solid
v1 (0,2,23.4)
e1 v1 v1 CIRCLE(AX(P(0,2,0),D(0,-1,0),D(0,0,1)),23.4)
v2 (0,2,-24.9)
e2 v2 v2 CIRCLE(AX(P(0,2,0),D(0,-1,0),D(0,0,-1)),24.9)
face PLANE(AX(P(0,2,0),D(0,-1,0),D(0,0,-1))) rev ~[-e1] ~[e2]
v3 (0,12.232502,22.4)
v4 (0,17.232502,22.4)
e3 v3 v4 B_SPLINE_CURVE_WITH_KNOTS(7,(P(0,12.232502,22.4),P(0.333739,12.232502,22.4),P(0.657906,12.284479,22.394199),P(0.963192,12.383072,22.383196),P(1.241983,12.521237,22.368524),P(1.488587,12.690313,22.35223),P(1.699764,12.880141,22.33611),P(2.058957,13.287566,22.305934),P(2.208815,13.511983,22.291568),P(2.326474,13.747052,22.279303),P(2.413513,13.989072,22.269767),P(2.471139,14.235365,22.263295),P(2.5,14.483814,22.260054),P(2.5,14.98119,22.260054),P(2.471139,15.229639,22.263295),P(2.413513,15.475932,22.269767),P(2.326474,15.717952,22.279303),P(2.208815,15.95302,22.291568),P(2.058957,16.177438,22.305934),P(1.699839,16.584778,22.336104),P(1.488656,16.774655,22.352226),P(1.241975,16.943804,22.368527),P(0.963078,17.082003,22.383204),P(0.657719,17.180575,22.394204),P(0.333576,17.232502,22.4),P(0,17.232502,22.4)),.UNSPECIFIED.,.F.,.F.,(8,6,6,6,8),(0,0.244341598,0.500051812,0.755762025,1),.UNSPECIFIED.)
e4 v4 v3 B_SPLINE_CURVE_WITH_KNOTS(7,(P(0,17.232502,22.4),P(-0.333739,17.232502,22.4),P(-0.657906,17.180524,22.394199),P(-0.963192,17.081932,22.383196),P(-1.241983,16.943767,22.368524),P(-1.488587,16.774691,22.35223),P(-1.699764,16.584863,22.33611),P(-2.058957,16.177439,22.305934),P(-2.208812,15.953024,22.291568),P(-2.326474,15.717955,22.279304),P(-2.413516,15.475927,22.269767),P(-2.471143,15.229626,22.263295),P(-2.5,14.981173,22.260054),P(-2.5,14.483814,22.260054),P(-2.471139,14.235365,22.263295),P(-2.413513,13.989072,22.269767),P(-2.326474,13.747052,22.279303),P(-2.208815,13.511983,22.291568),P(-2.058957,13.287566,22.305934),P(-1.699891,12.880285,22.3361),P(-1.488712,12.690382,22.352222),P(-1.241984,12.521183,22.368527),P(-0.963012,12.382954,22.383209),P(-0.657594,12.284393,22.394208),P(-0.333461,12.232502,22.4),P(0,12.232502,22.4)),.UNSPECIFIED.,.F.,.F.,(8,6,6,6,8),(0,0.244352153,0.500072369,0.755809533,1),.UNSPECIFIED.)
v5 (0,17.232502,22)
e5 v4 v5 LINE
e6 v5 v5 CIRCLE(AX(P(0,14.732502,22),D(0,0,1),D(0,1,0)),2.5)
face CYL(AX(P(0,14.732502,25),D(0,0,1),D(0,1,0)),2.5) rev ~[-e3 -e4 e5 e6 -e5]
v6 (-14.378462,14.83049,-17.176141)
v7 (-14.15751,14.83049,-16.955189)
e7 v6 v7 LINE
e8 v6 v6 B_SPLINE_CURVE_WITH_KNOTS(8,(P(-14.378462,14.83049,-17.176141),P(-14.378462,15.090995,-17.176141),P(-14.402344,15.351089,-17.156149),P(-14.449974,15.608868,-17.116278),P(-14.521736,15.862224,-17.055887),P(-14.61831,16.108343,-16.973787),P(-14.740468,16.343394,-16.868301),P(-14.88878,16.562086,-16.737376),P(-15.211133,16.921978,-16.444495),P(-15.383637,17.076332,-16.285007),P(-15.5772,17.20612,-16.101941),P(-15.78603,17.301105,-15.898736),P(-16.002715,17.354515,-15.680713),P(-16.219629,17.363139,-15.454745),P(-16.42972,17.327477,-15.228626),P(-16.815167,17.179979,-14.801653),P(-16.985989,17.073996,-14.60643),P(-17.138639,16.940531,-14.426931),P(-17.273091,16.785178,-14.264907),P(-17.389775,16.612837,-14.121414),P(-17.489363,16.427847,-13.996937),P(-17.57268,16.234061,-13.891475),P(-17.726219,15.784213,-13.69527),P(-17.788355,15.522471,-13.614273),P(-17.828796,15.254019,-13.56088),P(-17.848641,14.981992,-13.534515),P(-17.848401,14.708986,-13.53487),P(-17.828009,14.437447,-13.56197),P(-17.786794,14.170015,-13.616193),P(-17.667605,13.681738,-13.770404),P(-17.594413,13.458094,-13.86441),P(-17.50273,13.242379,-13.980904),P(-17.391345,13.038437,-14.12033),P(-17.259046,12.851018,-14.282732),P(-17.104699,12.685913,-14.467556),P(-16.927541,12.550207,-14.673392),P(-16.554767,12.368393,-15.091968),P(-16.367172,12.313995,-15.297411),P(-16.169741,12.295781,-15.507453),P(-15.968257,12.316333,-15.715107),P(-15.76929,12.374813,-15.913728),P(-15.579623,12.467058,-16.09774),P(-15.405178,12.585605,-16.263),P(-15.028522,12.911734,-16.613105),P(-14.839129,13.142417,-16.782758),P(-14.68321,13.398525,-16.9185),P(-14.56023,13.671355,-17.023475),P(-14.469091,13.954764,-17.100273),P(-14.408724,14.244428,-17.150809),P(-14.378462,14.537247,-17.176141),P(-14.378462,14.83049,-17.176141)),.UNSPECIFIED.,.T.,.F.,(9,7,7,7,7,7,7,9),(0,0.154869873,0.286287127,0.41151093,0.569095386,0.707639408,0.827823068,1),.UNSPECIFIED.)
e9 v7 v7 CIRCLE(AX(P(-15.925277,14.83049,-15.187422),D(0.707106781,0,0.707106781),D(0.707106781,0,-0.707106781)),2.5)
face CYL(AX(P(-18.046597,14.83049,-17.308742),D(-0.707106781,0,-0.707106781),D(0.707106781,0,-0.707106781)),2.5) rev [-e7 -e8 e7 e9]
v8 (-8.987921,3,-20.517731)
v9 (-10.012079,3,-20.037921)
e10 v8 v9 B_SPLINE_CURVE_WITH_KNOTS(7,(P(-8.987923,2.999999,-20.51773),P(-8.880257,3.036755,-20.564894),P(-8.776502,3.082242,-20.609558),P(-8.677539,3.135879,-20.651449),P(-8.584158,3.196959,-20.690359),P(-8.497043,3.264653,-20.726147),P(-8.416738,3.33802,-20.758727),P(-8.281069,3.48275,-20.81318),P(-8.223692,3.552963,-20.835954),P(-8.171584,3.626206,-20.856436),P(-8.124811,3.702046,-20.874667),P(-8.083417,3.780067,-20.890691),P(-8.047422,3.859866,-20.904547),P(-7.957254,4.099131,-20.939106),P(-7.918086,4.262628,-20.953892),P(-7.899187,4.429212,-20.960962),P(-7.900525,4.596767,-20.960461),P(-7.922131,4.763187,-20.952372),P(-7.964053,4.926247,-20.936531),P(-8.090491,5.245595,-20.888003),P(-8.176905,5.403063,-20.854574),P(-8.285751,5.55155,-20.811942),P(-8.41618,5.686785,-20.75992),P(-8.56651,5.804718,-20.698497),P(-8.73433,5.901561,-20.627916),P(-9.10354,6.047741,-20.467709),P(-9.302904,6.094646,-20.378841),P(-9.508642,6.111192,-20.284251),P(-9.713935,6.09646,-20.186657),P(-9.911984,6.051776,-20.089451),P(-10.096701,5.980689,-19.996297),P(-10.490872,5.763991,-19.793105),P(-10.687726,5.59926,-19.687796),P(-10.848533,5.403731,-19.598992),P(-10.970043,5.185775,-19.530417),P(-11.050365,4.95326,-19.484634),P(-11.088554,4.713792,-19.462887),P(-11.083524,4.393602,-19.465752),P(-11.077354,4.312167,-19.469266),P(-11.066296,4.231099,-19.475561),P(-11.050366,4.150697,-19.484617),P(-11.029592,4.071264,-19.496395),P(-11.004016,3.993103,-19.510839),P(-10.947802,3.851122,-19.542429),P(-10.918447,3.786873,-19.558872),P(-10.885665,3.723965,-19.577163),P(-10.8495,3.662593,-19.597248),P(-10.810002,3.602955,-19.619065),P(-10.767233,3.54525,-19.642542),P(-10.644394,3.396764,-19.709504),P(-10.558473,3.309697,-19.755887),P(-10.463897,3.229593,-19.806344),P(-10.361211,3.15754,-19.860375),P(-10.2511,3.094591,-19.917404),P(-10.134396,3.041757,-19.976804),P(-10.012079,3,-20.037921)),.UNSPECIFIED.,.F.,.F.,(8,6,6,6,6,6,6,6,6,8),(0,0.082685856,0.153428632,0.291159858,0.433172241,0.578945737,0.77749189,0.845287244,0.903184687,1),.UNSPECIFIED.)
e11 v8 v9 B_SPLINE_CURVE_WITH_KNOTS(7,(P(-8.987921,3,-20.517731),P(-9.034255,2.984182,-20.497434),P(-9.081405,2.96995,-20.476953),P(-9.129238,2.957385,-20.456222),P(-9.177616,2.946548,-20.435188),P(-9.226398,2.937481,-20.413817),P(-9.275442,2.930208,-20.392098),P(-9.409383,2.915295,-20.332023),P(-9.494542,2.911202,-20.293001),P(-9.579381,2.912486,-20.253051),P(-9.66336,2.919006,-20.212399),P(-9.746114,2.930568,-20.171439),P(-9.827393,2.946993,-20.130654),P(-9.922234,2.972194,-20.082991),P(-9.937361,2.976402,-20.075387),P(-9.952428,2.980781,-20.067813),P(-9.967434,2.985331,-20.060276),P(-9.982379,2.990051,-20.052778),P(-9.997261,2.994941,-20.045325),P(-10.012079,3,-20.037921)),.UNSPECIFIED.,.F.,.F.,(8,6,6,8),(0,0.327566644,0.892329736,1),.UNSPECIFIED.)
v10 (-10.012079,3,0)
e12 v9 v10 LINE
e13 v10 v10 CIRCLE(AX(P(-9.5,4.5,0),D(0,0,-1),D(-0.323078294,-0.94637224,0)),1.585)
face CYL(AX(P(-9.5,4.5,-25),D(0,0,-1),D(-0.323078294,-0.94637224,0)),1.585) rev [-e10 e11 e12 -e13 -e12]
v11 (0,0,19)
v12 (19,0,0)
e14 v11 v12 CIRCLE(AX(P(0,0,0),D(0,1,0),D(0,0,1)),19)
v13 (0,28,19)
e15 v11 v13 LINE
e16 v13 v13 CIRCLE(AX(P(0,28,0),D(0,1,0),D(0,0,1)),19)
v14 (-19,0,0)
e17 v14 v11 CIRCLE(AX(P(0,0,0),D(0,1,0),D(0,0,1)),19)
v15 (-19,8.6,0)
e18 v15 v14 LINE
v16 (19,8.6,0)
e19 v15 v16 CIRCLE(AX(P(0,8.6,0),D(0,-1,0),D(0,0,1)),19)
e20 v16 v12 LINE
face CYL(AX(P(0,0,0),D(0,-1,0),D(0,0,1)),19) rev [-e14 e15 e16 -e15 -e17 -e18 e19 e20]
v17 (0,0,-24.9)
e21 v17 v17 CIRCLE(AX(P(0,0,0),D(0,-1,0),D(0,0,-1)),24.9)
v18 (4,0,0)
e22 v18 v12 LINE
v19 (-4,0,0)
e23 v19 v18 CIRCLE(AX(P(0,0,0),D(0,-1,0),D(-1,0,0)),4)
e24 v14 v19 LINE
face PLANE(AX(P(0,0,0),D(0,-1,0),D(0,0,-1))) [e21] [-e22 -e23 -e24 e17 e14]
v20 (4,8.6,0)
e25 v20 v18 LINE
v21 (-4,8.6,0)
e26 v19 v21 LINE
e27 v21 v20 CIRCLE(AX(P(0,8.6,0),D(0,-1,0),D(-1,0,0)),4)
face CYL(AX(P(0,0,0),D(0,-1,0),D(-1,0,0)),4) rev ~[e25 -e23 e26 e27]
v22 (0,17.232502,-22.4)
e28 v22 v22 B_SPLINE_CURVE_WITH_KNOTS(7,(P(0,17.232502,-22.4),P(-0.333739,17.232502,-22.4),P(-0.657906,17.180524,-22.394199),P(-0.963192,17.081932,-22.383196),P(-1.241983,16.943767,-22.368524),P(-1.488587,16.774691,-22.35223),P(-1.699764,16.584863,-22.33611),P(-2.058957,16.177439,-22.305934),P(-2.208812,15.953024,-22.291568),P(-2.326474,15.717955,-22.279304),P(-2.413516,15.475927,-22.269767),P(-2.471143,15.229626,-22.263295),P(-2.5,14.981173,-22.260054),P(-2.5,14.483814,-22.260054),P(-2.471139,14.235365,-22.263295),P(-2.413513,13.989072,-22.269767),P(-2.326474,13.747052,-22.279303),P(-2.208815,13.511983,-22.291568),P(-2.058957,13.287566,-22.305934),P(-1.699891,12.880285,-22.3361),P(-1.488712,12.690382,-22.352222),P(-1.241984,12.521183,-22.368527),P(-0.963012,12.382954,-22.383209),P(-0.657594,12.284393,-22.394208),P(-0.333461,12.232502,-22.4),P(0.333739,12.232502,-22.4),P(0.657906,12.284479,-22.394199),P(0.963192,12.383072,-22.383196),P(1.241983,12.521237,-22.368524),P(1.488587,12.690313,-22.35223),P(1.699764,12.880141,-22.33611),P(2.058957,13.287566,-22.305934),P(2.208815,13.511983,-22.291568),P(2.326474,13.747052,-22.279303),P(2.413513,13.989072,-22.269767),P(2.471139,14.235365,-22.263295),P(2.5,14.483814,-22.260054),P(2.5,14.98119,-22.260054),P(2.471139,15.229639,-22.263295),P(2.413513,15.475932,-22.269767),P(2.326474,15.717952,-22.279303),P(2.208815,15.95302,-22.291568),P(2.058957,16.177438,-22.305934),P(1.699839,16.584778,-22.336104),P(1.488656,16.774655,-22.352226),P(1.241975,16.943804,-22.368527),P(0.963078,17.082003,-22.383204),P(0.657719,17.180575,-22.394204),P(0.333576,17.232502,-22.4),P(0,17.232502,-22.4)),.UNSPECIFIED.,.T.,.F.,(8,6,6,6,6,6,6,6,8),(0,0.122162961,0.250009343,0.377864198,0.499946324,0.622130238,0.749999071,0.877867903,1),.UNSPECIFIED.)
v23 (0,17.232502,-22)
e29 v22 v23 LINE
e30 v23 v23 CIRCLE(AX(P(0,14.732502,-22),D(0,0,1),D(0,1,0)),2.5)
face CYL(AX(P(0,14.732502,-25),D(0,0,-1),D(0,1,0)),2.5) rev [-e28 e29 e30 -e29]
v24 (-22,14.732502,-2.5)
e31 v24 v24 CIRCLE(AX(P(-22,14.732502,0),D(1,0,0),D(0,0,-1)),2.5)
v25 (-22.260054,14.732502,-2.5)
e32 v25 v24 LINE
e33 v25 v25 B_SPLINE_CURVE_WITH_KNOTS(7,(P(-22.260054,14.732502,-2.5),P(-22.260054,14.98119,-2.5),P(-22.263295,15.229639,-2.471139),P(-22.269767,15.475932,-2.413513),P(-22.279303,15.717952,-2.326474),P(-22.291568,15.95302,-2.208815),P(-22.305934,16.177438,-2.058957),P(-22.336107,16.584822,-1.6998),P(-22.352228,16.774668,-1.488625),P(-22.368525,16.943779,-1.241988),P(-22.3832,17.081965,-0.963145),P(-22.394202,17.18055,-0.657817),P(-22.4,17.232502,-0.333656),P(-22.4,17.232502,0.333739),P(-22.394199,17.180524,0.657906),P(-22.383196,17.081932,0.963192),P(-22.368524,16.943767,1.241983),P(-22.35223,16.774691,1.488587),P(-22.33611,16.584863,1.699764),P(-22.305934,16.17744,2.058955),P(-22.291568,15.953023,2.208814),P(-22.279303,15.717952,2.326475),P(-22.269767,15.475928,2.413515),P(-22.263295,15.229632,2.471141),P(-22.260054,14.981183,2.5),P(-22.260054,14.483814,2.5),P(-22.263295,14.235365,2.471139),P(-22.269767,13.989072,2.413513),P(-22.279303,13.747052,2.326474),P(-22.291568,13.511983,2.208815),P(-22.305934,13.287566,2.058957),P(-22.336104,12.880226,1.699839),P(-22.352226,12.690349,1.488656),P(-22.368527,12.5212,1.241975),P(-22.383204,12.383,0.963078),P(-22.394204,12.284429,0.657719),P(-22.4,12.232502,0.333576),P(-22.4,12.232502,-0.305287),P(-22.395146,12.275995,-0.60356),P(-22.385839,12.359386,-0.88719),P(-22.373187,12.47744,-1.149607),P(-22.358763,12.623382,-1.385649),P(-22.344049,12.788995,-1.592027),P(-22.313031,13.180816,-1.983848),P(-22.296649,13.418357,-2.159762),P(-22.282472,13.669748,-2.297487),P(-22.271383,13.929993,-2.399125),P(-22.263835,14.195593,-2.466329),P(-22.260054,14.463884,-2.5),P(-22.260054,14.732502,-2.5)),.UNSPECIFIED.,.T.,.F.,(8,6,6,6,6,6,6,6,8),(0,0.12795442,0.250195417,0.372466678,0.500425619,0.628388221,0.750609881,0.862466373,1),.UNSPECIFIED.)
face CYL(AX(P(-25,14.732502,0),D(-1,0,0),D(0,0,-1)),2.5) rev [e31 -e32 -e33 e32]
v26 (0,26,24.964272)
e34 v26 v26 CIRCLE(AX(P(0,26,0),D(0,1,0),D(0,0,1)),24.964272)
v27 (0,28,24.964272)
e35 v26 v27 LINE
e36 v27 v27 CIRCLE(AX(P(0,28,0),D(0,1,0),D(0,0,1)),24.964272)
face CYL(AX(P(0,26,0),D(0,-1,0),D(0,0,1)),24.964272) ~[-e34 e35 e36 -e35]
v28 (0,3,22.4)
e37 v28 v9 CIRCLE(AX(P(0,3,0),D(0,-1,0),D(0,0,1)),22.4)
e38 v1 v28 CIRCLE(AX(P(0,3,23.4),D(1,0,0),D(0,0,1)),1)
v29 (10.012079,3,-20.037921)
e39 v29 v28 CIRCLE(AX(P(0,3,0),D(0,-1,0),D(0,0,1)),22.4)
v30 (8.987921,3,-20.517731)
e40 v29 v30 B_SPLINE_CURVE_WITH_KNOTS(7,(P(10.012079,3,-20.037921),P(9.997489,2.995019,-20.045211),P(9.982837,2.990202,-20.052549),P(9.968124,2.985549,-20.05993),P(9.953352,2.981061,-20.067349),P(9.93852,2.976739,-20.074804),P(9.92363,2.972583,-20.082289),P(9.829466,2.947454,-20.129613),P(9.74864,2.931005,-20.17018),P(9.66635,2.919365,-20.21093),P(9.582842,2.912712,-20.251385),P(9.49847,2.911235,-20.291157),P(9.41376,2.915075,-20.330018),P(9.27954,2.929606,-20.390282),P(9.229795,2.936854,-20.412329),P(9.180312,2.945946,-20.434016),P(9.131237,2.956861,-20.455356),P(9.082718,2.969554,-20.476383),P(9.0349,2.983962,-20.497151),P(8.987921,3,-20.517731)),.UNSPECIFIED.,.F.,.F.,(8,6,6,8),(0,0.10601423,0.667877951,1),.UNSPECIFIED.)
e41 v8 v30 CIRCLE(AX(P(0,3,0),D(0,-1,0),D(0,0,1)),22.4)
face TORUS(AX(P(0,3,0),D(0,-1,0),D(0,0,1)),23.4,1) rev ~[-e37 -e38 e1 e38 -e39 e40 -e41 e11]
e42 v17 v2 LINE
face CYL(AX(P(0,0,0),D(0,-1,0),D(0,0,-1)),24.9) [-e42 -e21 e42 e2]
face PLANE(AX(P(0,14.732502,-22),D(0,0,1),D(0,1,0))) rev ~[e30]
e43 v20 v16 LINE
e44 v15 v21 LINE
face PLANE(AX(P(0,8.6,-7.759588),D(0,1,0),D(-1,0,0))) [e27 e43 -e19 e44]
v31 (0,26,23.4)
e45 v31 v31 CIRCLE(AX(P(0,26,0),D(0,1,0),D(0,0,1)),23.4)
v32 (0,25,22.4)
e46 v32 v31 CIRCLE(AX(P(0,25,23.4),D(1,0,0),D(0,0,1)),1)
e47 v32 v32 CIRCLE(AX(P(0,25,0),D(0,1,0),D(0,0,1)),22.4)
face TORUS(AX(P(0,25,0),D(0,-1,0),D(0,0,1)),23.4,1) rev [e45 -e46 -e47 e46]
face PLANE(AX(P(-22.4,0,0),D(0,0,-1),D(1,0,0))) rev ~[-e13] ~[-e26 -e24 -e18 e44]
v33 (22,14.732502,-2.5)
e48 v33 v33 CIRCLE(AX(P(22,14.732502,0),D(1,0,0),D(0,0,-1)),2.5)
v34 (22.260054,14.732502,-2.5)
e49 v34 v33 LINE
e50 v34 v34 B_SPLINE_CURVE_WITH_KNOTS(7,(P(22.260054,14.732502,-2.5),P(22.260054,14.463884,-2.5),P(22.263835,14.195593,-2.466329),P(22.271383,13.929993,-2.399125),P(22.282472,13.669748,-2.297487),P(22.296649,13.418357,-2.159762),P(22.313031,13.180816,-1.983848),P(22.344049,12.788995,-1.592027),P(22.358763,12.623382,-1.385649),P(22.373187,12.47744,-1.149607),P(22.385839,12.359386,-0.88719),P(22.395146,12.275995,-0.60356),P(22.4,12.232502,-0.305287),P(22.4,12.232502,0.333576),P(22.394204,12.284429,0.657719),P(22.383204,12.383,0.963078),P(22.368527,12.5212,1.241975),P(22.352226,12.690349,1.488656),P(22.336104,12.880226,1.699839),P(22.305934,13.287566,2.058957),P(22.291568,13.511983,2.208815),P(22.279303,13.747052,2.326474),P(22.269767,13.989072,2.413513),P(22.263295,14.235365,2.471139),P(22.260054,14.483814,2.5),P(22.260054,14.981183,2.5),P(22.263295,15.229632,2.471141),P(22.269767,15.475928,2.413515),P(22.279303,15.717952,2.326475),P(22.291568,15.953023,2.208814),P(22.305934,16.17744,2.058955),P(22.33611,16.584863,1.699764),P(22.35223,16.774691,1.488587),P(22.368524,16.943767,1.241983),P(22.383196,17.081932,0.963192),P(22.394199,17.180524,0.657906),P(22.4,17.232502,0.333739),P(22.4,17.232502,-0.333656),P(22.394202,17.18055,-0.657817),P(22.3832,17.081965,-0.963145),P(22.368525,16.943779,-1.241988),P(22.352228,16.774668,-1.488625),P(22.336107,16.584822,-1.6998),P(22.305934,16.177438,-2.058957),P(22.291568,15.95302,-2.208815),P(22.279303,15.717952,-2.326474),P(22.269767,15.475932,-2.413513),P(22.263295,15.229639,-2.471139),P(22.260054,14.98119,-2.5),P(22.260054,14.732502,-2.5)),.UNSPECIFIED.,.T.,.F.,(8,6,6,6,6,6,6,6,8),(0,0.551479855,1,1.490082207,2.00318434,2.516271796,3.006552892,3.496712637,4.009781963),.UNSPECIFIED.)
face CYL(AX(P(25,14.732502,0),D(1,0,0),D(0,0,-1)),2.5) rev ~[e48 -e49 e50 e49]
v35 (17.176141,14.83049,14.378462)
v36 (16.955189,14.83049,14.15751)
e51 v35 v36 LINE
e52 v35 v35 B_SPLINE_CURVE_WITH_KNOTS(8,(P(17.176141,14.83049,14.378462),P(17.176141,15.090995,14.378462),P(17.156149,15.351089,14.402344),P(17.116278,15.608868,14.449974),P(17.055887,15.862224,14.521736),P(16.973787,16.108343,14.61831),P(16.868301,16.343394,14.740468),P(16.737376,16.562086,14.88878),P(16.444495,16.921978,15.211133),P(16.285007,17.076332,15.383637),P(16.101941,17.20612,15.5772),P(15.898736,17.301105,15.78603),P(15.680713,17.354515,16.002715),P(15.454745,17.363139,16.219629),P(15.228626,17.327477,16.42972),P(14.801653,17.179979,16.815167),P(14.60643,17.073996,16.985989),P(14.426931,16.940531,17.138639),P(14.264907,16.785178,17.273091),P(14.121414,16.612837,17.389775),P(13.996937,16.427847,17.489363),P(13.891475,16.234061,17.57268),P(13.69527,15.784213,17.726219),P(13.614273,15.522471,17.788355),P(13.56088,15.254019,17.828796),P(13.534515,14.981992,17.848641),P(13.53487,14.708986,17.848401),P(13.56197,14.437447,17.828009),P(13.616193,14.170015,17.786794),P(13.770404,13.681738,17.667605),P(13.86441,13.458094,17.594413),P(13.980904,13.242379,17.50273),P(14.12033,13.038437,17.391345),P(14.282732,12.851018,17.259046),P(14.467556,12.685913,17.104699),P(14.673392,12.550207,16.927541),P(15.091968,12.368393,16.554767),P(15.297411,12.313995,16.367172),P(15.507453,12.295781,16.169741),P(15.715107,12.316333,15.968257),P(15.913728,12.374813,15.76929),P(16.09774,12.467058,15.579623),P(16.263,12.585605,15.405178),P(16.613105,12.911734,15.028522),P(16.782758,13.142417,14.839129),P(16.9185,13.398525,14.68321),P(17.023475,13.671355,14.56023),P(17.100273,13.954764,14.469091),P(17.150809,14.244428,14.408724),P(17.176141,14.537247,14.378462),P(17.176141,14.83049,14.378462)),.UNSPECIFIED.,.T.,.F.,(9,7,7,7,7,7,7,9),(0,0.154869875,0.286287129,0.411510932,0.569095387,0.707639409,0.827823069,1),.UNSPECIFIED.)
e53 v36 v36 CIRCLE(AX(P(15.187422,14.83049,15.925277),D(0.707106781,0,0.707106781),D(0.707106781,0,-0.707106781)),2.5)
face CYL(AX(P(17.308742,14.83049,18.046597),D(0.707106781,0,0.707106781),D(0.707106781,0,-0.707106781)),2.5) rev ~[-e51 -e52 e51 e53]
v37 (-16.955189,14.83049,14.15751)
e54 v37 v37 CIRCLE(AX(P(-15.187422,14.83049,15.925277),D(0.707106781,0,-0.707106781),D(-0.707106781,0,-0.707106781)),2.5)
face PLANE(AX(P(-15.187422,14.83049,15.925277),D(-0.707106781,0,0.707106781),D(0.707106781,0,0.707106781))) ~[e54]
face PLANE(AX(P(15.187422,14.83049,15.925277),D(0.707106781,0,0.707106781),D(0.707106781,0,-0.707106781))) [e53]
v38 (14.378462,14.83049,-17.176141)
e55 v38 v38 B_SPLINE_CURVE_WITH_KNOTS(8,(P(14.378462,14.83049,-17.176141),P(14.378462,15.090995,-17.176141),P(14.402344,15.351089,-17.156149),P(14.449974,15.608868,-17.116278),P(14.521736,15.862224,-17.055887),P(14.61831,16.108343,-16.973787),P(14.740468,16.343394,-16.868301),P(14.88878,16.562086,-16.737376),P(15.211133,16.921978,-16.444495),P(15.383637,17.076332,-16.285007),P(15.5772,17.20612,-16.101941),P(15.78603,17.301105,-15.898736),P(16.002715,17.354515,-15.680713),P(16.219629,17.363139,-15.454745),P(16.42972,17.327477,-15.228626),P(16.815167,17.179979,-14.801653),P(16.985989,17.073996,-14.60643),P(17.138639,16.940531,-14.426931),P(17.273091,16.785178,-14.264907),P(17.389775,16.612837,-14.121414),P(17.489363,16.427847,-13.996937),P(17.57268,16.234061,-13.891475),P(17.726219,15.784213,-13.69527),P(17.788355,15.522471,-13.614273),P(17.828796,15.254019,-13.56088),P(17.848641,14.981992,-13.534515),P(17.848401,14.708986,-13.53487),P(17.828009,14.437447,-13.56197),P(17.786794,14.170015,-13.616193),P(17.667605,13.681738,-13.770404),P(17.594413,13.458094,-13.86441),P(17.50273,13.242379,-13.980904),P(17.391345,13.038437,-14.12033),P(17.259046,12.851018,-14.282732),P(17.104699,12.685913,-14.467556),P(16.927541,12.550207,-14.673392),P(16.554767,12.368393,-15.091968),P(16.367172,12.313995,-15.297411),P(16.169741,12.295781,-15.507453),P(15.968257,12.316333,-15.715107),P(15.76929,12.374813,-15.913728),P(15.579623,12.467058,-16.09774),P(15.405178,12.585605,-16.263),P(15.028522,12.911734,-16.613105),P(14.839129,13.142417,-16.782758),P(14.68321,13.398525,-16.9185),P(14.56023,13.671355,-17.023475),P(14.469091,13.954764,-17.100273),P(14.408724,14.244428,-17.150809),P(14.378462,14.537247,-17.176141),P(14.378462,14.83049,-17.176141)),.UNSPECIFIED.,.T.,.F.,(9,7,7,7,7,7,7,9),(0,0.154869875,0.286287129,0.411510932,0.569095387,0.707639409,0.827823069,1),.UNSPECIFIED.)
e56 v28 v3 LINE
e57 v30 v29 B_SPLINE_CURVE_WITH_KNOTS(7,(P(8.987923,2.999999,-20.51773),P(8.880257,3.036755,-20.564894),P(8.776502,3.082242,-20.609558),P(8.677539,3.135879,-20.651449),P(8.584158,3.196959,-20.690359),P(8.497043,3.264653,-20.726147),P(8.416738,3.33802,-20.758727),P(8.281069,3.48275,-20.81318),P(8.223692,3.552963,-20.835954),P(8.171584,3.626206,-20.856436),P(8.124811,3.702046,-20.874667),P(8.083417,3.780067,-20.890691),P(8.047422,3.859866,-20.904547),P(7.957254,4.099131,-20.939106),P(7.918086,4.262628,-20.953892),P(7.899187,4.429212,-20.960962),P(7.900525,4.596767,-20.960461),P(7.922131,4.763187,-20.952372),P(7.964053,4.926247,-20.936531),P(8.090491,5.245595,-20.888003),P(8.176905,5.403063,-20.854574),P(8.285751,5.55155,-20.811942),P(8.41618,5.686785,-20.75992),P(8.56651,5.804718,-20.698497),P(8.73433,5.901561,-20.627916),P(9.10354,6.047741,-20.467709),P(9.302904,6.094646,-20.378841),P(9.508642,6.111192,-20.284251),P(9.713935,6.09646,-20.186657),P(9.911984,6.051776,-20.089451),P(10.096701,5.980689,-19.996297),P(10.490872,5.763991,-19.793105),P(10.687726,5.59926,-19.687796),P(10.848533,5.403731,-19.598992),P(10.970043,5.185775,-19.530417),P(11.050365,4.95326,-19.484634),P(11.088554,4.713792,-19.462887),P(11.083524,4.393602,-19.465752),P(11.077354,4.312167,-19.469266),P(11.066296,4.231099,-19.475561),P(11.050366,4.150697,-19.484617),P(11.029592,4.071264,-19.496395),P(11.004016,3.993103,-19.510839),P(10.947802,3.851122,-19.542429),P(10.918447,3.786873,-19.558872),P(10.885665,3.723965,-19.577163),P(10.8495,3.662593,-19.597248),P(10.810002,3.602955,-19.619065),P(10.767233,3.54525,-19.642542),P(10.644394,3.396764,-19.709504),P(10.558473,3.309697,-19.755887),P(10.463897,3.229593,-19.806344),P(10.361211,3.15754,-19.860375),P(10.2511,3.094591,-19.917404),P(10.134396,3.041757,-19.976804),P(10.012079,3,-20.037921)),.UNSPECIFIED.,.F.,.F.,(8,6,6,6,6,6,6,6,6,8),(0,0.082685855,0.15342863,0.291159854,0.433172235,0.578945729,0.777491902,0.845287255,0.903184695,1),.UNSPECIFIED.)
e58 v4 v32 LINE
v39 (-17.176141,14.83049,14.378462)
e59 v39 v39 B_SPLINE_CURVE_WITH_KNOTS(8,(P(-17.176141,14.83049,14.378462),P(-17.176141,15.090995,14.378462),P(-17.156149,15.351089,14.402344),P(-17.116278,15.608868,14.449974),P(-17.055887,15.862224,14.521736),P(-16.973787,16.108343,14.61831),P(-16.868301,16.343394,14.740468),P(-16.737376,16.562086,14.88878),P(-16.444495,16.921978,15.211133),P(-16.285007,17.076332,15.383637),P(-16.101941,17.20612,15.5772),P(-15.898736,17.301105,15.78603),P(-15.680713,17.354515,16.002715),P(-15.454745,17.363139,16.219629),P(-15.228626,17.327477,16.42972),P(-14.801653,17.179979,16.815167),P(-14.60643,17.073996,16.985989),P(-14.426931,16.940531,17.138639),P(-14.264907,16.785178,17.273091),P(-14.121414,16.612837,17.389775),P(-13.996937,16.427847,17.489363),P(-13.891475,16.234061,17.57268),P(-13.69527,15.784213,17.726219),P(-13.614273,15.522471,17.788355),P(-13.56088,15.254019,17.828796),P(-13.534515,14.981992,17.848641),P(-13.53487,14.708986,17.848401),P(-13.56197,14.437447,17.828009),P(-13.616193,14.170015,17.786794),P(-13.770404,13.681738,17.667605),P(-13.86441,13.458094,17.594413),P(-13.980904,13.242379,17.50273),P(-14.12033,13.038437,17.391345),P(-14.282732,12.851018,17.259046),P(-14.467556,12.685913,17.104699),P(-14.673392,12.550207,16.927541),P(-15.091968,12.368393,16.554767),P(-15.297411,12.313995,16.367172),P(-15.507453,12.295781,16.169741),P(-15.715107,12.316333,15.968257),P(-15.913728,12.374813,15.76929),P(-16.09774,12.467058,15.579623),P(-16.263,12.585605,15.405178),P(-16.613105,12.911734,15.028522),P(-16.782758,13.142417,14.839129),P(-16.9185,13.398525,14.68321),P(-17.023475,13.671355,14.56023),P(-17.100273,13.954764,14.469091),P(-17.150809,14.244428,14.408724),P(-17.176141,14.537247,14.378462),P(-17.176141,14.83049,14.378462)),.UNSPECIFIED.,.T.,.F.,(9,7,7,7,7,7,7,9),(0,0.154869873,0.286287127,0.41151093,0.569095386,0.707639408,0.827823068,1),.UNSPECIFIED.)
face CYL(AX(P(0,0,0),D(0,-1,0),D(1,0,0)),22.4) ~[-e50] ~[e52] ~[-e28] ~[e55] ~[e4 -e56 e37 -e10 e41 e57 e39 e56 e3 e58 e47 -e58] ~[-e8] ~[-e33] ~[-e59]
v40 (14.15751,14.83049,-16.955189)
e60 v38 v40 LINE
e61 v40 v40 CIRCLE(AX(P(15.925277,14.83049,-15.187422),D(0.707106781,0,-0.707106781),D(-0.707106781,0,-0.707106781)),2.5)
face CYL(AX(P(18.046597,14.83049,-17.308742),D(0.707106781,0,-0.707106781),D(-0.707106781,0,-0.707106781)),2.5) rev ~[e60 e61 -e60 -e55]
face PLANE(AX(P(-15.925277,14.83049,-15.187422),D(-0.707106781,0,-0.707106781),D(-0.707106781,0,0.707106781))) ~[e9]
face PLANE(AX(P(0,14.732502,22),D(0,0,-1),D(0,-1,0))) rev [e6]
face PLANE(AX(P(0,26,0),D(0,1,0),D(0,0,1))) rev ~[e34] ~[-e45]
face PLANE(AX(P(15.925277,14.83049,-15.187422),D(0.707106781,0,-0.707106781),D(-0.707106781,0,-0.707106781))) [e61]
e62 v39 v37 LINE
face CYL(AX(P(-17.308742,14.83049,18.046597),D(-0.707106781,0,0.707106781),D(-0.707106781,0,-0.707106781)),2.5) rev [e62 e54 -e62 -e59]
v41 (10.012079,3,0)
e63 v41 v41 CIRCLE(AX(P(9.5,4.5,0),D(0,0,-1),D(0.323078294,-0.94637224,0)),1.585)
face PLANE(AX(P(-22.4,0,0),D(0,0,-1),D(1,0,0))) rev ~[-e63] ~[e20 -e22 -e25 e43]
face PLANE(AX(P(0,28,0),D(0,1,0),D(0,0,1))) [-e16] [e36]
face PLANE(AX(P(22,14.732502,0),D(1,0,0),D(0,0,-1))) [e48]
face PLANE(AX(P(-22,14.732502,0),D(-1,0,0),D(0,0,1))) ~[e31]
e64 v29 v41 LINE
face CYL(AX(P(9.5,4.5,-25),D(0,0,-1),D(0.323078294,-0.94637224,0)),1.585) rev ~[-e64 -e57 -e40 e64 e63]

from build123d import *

# Parameters (mm, degrees)
SKETCH1_R               = 22.4
SKETCH1_R_2             = 19
BOSS_EXTRUDE1_DEPTH     = 28
BOSS_EXTRUDE2_DEPTH     = 8.6
SKETCH3_R               = 4
CUT_EXTRUDE1_DEPTH      = 9
SKETCH4_R               = 24.9
SKETCH4_R_2             = 22.3905802
BOSS_EXTRUDE3_DEPTH     = 2
BOSS_EXTRUDE4_START     = -2
SKETCH5_R               = 24.964272213
SKETCH5_R_2             = 22.4
BOSS_EXTRUDE4_DEPTH     = 2
FILLET1_R               = 1
SKETCH7_R               = 1.585
CUT_EXTRUDE2_DEPTH      = 32
SKETCH8_R               = 2.5
CUT_EXTRUDE3_DEPTH      = 3
SKETCH9_R               = 2.5
CUT_EXTRUDE4_DEPTH      = 3
SKETCH10_R              = 2.5
CUT_EXTRUDE5_DEPTH      = 3
MIRROR6_COPY_1_SKETCH_R = 2.5
MIRROR6_COPY_1_DEPTH    = 3
MIRROR6_COPY_2_SKETCH_R = 2.5
MIRROR6_COPY_2_DEPTH    = 3


with BuildPart() as part:
    # Sketch1 → Boss-Extrude1 (new body)
    with BuildSketch(Plane(origin=(0, 0, 0), x_dir=(1, 0, 0), z_dir=(0, 1, 0))):
        with Locations(Location((0, 0, 0), (0, 0, 270))):
            Circle(SKETCH1_R)
        with Locations(Location((0, 0, 0), (0, 0, 270))):
            Circle(SKETCH1_R_2, mode=Mode.SUBTRACT)
    extrude(amount=BOSS_EXTRUDE1_DEPTH)

    # Sketch2 → Boss-Extrude2 (add)
    with BuildSketch(Plane.XZ):
        with BuildLine():
            Line((-22.4, 0), (0, 0))
            Line((0, 0), (22.4, 0))
            ThreePointArc((22.4, 0), (0, -22.4), (-22.4, 0))
        make_face()
    extrude(amount=-BOSS_EXTRUDE2_DEPTH)

    # Sketch3 → Cut-Extrude1 (cut)
    with BuildSketch(Plane(origin=(0, 0, 0), x_dir=(-1, 0, 0), z_dir=(0, -1, 0))):
        Circle(SKETCH3_R)
    extrude(amount=-CUT_EXTRUDE1_DEPTH, mode=Mode.SUBTRACT)

    # Sketch4 → Boss-Extrude3 (add)
    with BuildSketch(Plane(origin=(0, 0, 0), x_dir=(-1, 0, 0), z_dir=(0, -1, 0))):
        with Locations(Location((0, 0, 0), (0, 0, 90))):
            Circle(SKETCH4_R)
        Circle(SKETCH4_R_2, mode=Mode.SUBTRACT)
    extrude(amount=-BOSS_EXTRUDE3_DEPTH)

    # Sketch5 → Boss-Extrude4 (add)
    with BuildSketch(Plane(origin=(0, 28, 0), x_dir=(1, 0, 0), z_dir=(0, 1, 0)).offset(BOSS_EXTRUDE4_START)):
        with Locations(Location((0, 0, 0), (0, 0, 270))):
            Circle(SKETCH5_R)
        with Locations(Location((0, 0, 0), (0, 0, 90))):
            Circle(SKETCH5_R_2, mode=Mode.SUBTRACT)
    extrude(amount=BOSS_EXTRUDE4_DEPTH)

    # Fillet1
    fillet1_edges = [part.edges().sort_by_distance(p)[0] for p in [
        (0, 2, -22.4),
        (0, 26, -22.4),
    ]]
    fillet(fillet1_edges, radius=FILLET1_R)

    # Sketch7 → Cut-Extrude2 (cut)
    with BuildSketch(Plane.XY.offset(-25)):
        with Locations(Location((-9.5, 4.5, 0), (0, 0, 251.150810429))):
            Circle(SKETCH7_R)
    cut_extrude2 = extrude(amount=CUT_EXTRUDE2_DEPTH, mode=Mode.SUBTRACT)

    # Mirror1: Cut-Extrude2 across plane
    add(cut_extrude2.mirror(Plane(origin=(0, 0, 0), x_dir=(0, 0, 1), z_dir=(1, 0, 0))), mode=Mode.SUBTRACT)

    # Sketch8 → Cut-Extrude3 (cut)
    with BuildSketch(Plane.XY.offset(-25)):
        with Locations(Location((0, 14.732501926, 0), (0, 0, 90))):
            Circle(SKETCH8_R)
    cut_extrude3 = extrude(amount=CUT_EXTRUDE3_DEPTH, mode=Mode.SUBTRACT)

    # Mirror2: Cut-Extrude3 across plane
    add(cut_extrude3.mirror(Plane.XY), mode=Mode.SUBTRACT)

    # Sketch9 → Cut-Extrude4 (cut)
    with BuildSketch(Plane(origin=(25, 0, 0), x_dir=(0, 0, -1), z_dir=(1, 0, 0))):
        with Locations((0, 14.732501926)):
            Circle(SKETCH9_R)
    cut_extrude4 = extrude(amount=-CUT_EXTRUDE4_DEPTH, mode=Mode.SUBTRACT)

    # Mirror3: Cut-Extrude4 across plane
    add(cut_extrude4.mirror(Plane(origin=(0, 0, 0), x_dir=(0, 0, 1), z_dir=(1, 0, 0))), mode=Mode.SUBTRACT)

    # Sketch10 → Cut-Extrude5 (cut)
    with BuildSketch(Plane(origin=(17.67766953, 0, -17.67766953), x_dir=(-0.7071067811865477, 0, -0.7071067811865475), z_dir=(0.7071067811865475, 0, -0.7071067811865477))):
        with Locations((-0.521742336, 14.830490085)):
            Circle(SKETCH10_R)
    cut_extrude5 = extrude(amount=-CUT_EXTRUDE5_DEPTH, mode=Mode.SUBTRACT)

    # Mirror4: Cut-Extrude5 across plane
    add(cut_extrude5.mirror(Plane(origin=(0, 0, 0), x_dir=(0.7071067811865478, 0, 0.7071067811865472), z_dir=(0.7071067811865475, 0, -0.7071067811865477))), mode=Mode.SUBTRACT)

    # Mirror5: Cut-Extrude5 across plane
    add(cut_extrude5.mirror(Plane(origin=(0, 0, 0), x_dir=(0, 0, 1), z_dir=(1, 0, 0))), mode=Mode.SUBTRACT)

    # Mirror6 copy 1 sketch → Mirror6 copy 1 (cut)
    with BuildSketch(Plane(origin=(17.67766953, 0, 17.67766953), x_dir=(0.7071067811865477, 0, -0.7071067811865475), z_dir=(0.7071067811865477, 0, 0.7071067811865479))):
        with Locations((-0.521742336, 14.830490085)):
            Circle(MIRROR6_COPY_1_SKETCH_R)
    extrude(amount=-MIRROR6_COPY_1_DEPTH, mode=Mode.SUBTRACT)

    # Mirror6 copy 2 sketch → Mirror6 copy 2 (cut)
    with BuildSketch(Plane(origin=(-17.67766953, 0, -17.67766953), x_dir=(0.7071067811865477, 0, -0.7071067811865475), z_dir=(-0.7071067811865475, 0, -0.7071067811865477))):
        with Locations((-0.521742336, -14.830490085)):
            Circle(MIRROR6_COPY_2_SKETCH_R)
    extrude(amount=-MIRROR6_COPY_2_DEPTH, mode=Mode.SUBTRACT)


solid = part.part
